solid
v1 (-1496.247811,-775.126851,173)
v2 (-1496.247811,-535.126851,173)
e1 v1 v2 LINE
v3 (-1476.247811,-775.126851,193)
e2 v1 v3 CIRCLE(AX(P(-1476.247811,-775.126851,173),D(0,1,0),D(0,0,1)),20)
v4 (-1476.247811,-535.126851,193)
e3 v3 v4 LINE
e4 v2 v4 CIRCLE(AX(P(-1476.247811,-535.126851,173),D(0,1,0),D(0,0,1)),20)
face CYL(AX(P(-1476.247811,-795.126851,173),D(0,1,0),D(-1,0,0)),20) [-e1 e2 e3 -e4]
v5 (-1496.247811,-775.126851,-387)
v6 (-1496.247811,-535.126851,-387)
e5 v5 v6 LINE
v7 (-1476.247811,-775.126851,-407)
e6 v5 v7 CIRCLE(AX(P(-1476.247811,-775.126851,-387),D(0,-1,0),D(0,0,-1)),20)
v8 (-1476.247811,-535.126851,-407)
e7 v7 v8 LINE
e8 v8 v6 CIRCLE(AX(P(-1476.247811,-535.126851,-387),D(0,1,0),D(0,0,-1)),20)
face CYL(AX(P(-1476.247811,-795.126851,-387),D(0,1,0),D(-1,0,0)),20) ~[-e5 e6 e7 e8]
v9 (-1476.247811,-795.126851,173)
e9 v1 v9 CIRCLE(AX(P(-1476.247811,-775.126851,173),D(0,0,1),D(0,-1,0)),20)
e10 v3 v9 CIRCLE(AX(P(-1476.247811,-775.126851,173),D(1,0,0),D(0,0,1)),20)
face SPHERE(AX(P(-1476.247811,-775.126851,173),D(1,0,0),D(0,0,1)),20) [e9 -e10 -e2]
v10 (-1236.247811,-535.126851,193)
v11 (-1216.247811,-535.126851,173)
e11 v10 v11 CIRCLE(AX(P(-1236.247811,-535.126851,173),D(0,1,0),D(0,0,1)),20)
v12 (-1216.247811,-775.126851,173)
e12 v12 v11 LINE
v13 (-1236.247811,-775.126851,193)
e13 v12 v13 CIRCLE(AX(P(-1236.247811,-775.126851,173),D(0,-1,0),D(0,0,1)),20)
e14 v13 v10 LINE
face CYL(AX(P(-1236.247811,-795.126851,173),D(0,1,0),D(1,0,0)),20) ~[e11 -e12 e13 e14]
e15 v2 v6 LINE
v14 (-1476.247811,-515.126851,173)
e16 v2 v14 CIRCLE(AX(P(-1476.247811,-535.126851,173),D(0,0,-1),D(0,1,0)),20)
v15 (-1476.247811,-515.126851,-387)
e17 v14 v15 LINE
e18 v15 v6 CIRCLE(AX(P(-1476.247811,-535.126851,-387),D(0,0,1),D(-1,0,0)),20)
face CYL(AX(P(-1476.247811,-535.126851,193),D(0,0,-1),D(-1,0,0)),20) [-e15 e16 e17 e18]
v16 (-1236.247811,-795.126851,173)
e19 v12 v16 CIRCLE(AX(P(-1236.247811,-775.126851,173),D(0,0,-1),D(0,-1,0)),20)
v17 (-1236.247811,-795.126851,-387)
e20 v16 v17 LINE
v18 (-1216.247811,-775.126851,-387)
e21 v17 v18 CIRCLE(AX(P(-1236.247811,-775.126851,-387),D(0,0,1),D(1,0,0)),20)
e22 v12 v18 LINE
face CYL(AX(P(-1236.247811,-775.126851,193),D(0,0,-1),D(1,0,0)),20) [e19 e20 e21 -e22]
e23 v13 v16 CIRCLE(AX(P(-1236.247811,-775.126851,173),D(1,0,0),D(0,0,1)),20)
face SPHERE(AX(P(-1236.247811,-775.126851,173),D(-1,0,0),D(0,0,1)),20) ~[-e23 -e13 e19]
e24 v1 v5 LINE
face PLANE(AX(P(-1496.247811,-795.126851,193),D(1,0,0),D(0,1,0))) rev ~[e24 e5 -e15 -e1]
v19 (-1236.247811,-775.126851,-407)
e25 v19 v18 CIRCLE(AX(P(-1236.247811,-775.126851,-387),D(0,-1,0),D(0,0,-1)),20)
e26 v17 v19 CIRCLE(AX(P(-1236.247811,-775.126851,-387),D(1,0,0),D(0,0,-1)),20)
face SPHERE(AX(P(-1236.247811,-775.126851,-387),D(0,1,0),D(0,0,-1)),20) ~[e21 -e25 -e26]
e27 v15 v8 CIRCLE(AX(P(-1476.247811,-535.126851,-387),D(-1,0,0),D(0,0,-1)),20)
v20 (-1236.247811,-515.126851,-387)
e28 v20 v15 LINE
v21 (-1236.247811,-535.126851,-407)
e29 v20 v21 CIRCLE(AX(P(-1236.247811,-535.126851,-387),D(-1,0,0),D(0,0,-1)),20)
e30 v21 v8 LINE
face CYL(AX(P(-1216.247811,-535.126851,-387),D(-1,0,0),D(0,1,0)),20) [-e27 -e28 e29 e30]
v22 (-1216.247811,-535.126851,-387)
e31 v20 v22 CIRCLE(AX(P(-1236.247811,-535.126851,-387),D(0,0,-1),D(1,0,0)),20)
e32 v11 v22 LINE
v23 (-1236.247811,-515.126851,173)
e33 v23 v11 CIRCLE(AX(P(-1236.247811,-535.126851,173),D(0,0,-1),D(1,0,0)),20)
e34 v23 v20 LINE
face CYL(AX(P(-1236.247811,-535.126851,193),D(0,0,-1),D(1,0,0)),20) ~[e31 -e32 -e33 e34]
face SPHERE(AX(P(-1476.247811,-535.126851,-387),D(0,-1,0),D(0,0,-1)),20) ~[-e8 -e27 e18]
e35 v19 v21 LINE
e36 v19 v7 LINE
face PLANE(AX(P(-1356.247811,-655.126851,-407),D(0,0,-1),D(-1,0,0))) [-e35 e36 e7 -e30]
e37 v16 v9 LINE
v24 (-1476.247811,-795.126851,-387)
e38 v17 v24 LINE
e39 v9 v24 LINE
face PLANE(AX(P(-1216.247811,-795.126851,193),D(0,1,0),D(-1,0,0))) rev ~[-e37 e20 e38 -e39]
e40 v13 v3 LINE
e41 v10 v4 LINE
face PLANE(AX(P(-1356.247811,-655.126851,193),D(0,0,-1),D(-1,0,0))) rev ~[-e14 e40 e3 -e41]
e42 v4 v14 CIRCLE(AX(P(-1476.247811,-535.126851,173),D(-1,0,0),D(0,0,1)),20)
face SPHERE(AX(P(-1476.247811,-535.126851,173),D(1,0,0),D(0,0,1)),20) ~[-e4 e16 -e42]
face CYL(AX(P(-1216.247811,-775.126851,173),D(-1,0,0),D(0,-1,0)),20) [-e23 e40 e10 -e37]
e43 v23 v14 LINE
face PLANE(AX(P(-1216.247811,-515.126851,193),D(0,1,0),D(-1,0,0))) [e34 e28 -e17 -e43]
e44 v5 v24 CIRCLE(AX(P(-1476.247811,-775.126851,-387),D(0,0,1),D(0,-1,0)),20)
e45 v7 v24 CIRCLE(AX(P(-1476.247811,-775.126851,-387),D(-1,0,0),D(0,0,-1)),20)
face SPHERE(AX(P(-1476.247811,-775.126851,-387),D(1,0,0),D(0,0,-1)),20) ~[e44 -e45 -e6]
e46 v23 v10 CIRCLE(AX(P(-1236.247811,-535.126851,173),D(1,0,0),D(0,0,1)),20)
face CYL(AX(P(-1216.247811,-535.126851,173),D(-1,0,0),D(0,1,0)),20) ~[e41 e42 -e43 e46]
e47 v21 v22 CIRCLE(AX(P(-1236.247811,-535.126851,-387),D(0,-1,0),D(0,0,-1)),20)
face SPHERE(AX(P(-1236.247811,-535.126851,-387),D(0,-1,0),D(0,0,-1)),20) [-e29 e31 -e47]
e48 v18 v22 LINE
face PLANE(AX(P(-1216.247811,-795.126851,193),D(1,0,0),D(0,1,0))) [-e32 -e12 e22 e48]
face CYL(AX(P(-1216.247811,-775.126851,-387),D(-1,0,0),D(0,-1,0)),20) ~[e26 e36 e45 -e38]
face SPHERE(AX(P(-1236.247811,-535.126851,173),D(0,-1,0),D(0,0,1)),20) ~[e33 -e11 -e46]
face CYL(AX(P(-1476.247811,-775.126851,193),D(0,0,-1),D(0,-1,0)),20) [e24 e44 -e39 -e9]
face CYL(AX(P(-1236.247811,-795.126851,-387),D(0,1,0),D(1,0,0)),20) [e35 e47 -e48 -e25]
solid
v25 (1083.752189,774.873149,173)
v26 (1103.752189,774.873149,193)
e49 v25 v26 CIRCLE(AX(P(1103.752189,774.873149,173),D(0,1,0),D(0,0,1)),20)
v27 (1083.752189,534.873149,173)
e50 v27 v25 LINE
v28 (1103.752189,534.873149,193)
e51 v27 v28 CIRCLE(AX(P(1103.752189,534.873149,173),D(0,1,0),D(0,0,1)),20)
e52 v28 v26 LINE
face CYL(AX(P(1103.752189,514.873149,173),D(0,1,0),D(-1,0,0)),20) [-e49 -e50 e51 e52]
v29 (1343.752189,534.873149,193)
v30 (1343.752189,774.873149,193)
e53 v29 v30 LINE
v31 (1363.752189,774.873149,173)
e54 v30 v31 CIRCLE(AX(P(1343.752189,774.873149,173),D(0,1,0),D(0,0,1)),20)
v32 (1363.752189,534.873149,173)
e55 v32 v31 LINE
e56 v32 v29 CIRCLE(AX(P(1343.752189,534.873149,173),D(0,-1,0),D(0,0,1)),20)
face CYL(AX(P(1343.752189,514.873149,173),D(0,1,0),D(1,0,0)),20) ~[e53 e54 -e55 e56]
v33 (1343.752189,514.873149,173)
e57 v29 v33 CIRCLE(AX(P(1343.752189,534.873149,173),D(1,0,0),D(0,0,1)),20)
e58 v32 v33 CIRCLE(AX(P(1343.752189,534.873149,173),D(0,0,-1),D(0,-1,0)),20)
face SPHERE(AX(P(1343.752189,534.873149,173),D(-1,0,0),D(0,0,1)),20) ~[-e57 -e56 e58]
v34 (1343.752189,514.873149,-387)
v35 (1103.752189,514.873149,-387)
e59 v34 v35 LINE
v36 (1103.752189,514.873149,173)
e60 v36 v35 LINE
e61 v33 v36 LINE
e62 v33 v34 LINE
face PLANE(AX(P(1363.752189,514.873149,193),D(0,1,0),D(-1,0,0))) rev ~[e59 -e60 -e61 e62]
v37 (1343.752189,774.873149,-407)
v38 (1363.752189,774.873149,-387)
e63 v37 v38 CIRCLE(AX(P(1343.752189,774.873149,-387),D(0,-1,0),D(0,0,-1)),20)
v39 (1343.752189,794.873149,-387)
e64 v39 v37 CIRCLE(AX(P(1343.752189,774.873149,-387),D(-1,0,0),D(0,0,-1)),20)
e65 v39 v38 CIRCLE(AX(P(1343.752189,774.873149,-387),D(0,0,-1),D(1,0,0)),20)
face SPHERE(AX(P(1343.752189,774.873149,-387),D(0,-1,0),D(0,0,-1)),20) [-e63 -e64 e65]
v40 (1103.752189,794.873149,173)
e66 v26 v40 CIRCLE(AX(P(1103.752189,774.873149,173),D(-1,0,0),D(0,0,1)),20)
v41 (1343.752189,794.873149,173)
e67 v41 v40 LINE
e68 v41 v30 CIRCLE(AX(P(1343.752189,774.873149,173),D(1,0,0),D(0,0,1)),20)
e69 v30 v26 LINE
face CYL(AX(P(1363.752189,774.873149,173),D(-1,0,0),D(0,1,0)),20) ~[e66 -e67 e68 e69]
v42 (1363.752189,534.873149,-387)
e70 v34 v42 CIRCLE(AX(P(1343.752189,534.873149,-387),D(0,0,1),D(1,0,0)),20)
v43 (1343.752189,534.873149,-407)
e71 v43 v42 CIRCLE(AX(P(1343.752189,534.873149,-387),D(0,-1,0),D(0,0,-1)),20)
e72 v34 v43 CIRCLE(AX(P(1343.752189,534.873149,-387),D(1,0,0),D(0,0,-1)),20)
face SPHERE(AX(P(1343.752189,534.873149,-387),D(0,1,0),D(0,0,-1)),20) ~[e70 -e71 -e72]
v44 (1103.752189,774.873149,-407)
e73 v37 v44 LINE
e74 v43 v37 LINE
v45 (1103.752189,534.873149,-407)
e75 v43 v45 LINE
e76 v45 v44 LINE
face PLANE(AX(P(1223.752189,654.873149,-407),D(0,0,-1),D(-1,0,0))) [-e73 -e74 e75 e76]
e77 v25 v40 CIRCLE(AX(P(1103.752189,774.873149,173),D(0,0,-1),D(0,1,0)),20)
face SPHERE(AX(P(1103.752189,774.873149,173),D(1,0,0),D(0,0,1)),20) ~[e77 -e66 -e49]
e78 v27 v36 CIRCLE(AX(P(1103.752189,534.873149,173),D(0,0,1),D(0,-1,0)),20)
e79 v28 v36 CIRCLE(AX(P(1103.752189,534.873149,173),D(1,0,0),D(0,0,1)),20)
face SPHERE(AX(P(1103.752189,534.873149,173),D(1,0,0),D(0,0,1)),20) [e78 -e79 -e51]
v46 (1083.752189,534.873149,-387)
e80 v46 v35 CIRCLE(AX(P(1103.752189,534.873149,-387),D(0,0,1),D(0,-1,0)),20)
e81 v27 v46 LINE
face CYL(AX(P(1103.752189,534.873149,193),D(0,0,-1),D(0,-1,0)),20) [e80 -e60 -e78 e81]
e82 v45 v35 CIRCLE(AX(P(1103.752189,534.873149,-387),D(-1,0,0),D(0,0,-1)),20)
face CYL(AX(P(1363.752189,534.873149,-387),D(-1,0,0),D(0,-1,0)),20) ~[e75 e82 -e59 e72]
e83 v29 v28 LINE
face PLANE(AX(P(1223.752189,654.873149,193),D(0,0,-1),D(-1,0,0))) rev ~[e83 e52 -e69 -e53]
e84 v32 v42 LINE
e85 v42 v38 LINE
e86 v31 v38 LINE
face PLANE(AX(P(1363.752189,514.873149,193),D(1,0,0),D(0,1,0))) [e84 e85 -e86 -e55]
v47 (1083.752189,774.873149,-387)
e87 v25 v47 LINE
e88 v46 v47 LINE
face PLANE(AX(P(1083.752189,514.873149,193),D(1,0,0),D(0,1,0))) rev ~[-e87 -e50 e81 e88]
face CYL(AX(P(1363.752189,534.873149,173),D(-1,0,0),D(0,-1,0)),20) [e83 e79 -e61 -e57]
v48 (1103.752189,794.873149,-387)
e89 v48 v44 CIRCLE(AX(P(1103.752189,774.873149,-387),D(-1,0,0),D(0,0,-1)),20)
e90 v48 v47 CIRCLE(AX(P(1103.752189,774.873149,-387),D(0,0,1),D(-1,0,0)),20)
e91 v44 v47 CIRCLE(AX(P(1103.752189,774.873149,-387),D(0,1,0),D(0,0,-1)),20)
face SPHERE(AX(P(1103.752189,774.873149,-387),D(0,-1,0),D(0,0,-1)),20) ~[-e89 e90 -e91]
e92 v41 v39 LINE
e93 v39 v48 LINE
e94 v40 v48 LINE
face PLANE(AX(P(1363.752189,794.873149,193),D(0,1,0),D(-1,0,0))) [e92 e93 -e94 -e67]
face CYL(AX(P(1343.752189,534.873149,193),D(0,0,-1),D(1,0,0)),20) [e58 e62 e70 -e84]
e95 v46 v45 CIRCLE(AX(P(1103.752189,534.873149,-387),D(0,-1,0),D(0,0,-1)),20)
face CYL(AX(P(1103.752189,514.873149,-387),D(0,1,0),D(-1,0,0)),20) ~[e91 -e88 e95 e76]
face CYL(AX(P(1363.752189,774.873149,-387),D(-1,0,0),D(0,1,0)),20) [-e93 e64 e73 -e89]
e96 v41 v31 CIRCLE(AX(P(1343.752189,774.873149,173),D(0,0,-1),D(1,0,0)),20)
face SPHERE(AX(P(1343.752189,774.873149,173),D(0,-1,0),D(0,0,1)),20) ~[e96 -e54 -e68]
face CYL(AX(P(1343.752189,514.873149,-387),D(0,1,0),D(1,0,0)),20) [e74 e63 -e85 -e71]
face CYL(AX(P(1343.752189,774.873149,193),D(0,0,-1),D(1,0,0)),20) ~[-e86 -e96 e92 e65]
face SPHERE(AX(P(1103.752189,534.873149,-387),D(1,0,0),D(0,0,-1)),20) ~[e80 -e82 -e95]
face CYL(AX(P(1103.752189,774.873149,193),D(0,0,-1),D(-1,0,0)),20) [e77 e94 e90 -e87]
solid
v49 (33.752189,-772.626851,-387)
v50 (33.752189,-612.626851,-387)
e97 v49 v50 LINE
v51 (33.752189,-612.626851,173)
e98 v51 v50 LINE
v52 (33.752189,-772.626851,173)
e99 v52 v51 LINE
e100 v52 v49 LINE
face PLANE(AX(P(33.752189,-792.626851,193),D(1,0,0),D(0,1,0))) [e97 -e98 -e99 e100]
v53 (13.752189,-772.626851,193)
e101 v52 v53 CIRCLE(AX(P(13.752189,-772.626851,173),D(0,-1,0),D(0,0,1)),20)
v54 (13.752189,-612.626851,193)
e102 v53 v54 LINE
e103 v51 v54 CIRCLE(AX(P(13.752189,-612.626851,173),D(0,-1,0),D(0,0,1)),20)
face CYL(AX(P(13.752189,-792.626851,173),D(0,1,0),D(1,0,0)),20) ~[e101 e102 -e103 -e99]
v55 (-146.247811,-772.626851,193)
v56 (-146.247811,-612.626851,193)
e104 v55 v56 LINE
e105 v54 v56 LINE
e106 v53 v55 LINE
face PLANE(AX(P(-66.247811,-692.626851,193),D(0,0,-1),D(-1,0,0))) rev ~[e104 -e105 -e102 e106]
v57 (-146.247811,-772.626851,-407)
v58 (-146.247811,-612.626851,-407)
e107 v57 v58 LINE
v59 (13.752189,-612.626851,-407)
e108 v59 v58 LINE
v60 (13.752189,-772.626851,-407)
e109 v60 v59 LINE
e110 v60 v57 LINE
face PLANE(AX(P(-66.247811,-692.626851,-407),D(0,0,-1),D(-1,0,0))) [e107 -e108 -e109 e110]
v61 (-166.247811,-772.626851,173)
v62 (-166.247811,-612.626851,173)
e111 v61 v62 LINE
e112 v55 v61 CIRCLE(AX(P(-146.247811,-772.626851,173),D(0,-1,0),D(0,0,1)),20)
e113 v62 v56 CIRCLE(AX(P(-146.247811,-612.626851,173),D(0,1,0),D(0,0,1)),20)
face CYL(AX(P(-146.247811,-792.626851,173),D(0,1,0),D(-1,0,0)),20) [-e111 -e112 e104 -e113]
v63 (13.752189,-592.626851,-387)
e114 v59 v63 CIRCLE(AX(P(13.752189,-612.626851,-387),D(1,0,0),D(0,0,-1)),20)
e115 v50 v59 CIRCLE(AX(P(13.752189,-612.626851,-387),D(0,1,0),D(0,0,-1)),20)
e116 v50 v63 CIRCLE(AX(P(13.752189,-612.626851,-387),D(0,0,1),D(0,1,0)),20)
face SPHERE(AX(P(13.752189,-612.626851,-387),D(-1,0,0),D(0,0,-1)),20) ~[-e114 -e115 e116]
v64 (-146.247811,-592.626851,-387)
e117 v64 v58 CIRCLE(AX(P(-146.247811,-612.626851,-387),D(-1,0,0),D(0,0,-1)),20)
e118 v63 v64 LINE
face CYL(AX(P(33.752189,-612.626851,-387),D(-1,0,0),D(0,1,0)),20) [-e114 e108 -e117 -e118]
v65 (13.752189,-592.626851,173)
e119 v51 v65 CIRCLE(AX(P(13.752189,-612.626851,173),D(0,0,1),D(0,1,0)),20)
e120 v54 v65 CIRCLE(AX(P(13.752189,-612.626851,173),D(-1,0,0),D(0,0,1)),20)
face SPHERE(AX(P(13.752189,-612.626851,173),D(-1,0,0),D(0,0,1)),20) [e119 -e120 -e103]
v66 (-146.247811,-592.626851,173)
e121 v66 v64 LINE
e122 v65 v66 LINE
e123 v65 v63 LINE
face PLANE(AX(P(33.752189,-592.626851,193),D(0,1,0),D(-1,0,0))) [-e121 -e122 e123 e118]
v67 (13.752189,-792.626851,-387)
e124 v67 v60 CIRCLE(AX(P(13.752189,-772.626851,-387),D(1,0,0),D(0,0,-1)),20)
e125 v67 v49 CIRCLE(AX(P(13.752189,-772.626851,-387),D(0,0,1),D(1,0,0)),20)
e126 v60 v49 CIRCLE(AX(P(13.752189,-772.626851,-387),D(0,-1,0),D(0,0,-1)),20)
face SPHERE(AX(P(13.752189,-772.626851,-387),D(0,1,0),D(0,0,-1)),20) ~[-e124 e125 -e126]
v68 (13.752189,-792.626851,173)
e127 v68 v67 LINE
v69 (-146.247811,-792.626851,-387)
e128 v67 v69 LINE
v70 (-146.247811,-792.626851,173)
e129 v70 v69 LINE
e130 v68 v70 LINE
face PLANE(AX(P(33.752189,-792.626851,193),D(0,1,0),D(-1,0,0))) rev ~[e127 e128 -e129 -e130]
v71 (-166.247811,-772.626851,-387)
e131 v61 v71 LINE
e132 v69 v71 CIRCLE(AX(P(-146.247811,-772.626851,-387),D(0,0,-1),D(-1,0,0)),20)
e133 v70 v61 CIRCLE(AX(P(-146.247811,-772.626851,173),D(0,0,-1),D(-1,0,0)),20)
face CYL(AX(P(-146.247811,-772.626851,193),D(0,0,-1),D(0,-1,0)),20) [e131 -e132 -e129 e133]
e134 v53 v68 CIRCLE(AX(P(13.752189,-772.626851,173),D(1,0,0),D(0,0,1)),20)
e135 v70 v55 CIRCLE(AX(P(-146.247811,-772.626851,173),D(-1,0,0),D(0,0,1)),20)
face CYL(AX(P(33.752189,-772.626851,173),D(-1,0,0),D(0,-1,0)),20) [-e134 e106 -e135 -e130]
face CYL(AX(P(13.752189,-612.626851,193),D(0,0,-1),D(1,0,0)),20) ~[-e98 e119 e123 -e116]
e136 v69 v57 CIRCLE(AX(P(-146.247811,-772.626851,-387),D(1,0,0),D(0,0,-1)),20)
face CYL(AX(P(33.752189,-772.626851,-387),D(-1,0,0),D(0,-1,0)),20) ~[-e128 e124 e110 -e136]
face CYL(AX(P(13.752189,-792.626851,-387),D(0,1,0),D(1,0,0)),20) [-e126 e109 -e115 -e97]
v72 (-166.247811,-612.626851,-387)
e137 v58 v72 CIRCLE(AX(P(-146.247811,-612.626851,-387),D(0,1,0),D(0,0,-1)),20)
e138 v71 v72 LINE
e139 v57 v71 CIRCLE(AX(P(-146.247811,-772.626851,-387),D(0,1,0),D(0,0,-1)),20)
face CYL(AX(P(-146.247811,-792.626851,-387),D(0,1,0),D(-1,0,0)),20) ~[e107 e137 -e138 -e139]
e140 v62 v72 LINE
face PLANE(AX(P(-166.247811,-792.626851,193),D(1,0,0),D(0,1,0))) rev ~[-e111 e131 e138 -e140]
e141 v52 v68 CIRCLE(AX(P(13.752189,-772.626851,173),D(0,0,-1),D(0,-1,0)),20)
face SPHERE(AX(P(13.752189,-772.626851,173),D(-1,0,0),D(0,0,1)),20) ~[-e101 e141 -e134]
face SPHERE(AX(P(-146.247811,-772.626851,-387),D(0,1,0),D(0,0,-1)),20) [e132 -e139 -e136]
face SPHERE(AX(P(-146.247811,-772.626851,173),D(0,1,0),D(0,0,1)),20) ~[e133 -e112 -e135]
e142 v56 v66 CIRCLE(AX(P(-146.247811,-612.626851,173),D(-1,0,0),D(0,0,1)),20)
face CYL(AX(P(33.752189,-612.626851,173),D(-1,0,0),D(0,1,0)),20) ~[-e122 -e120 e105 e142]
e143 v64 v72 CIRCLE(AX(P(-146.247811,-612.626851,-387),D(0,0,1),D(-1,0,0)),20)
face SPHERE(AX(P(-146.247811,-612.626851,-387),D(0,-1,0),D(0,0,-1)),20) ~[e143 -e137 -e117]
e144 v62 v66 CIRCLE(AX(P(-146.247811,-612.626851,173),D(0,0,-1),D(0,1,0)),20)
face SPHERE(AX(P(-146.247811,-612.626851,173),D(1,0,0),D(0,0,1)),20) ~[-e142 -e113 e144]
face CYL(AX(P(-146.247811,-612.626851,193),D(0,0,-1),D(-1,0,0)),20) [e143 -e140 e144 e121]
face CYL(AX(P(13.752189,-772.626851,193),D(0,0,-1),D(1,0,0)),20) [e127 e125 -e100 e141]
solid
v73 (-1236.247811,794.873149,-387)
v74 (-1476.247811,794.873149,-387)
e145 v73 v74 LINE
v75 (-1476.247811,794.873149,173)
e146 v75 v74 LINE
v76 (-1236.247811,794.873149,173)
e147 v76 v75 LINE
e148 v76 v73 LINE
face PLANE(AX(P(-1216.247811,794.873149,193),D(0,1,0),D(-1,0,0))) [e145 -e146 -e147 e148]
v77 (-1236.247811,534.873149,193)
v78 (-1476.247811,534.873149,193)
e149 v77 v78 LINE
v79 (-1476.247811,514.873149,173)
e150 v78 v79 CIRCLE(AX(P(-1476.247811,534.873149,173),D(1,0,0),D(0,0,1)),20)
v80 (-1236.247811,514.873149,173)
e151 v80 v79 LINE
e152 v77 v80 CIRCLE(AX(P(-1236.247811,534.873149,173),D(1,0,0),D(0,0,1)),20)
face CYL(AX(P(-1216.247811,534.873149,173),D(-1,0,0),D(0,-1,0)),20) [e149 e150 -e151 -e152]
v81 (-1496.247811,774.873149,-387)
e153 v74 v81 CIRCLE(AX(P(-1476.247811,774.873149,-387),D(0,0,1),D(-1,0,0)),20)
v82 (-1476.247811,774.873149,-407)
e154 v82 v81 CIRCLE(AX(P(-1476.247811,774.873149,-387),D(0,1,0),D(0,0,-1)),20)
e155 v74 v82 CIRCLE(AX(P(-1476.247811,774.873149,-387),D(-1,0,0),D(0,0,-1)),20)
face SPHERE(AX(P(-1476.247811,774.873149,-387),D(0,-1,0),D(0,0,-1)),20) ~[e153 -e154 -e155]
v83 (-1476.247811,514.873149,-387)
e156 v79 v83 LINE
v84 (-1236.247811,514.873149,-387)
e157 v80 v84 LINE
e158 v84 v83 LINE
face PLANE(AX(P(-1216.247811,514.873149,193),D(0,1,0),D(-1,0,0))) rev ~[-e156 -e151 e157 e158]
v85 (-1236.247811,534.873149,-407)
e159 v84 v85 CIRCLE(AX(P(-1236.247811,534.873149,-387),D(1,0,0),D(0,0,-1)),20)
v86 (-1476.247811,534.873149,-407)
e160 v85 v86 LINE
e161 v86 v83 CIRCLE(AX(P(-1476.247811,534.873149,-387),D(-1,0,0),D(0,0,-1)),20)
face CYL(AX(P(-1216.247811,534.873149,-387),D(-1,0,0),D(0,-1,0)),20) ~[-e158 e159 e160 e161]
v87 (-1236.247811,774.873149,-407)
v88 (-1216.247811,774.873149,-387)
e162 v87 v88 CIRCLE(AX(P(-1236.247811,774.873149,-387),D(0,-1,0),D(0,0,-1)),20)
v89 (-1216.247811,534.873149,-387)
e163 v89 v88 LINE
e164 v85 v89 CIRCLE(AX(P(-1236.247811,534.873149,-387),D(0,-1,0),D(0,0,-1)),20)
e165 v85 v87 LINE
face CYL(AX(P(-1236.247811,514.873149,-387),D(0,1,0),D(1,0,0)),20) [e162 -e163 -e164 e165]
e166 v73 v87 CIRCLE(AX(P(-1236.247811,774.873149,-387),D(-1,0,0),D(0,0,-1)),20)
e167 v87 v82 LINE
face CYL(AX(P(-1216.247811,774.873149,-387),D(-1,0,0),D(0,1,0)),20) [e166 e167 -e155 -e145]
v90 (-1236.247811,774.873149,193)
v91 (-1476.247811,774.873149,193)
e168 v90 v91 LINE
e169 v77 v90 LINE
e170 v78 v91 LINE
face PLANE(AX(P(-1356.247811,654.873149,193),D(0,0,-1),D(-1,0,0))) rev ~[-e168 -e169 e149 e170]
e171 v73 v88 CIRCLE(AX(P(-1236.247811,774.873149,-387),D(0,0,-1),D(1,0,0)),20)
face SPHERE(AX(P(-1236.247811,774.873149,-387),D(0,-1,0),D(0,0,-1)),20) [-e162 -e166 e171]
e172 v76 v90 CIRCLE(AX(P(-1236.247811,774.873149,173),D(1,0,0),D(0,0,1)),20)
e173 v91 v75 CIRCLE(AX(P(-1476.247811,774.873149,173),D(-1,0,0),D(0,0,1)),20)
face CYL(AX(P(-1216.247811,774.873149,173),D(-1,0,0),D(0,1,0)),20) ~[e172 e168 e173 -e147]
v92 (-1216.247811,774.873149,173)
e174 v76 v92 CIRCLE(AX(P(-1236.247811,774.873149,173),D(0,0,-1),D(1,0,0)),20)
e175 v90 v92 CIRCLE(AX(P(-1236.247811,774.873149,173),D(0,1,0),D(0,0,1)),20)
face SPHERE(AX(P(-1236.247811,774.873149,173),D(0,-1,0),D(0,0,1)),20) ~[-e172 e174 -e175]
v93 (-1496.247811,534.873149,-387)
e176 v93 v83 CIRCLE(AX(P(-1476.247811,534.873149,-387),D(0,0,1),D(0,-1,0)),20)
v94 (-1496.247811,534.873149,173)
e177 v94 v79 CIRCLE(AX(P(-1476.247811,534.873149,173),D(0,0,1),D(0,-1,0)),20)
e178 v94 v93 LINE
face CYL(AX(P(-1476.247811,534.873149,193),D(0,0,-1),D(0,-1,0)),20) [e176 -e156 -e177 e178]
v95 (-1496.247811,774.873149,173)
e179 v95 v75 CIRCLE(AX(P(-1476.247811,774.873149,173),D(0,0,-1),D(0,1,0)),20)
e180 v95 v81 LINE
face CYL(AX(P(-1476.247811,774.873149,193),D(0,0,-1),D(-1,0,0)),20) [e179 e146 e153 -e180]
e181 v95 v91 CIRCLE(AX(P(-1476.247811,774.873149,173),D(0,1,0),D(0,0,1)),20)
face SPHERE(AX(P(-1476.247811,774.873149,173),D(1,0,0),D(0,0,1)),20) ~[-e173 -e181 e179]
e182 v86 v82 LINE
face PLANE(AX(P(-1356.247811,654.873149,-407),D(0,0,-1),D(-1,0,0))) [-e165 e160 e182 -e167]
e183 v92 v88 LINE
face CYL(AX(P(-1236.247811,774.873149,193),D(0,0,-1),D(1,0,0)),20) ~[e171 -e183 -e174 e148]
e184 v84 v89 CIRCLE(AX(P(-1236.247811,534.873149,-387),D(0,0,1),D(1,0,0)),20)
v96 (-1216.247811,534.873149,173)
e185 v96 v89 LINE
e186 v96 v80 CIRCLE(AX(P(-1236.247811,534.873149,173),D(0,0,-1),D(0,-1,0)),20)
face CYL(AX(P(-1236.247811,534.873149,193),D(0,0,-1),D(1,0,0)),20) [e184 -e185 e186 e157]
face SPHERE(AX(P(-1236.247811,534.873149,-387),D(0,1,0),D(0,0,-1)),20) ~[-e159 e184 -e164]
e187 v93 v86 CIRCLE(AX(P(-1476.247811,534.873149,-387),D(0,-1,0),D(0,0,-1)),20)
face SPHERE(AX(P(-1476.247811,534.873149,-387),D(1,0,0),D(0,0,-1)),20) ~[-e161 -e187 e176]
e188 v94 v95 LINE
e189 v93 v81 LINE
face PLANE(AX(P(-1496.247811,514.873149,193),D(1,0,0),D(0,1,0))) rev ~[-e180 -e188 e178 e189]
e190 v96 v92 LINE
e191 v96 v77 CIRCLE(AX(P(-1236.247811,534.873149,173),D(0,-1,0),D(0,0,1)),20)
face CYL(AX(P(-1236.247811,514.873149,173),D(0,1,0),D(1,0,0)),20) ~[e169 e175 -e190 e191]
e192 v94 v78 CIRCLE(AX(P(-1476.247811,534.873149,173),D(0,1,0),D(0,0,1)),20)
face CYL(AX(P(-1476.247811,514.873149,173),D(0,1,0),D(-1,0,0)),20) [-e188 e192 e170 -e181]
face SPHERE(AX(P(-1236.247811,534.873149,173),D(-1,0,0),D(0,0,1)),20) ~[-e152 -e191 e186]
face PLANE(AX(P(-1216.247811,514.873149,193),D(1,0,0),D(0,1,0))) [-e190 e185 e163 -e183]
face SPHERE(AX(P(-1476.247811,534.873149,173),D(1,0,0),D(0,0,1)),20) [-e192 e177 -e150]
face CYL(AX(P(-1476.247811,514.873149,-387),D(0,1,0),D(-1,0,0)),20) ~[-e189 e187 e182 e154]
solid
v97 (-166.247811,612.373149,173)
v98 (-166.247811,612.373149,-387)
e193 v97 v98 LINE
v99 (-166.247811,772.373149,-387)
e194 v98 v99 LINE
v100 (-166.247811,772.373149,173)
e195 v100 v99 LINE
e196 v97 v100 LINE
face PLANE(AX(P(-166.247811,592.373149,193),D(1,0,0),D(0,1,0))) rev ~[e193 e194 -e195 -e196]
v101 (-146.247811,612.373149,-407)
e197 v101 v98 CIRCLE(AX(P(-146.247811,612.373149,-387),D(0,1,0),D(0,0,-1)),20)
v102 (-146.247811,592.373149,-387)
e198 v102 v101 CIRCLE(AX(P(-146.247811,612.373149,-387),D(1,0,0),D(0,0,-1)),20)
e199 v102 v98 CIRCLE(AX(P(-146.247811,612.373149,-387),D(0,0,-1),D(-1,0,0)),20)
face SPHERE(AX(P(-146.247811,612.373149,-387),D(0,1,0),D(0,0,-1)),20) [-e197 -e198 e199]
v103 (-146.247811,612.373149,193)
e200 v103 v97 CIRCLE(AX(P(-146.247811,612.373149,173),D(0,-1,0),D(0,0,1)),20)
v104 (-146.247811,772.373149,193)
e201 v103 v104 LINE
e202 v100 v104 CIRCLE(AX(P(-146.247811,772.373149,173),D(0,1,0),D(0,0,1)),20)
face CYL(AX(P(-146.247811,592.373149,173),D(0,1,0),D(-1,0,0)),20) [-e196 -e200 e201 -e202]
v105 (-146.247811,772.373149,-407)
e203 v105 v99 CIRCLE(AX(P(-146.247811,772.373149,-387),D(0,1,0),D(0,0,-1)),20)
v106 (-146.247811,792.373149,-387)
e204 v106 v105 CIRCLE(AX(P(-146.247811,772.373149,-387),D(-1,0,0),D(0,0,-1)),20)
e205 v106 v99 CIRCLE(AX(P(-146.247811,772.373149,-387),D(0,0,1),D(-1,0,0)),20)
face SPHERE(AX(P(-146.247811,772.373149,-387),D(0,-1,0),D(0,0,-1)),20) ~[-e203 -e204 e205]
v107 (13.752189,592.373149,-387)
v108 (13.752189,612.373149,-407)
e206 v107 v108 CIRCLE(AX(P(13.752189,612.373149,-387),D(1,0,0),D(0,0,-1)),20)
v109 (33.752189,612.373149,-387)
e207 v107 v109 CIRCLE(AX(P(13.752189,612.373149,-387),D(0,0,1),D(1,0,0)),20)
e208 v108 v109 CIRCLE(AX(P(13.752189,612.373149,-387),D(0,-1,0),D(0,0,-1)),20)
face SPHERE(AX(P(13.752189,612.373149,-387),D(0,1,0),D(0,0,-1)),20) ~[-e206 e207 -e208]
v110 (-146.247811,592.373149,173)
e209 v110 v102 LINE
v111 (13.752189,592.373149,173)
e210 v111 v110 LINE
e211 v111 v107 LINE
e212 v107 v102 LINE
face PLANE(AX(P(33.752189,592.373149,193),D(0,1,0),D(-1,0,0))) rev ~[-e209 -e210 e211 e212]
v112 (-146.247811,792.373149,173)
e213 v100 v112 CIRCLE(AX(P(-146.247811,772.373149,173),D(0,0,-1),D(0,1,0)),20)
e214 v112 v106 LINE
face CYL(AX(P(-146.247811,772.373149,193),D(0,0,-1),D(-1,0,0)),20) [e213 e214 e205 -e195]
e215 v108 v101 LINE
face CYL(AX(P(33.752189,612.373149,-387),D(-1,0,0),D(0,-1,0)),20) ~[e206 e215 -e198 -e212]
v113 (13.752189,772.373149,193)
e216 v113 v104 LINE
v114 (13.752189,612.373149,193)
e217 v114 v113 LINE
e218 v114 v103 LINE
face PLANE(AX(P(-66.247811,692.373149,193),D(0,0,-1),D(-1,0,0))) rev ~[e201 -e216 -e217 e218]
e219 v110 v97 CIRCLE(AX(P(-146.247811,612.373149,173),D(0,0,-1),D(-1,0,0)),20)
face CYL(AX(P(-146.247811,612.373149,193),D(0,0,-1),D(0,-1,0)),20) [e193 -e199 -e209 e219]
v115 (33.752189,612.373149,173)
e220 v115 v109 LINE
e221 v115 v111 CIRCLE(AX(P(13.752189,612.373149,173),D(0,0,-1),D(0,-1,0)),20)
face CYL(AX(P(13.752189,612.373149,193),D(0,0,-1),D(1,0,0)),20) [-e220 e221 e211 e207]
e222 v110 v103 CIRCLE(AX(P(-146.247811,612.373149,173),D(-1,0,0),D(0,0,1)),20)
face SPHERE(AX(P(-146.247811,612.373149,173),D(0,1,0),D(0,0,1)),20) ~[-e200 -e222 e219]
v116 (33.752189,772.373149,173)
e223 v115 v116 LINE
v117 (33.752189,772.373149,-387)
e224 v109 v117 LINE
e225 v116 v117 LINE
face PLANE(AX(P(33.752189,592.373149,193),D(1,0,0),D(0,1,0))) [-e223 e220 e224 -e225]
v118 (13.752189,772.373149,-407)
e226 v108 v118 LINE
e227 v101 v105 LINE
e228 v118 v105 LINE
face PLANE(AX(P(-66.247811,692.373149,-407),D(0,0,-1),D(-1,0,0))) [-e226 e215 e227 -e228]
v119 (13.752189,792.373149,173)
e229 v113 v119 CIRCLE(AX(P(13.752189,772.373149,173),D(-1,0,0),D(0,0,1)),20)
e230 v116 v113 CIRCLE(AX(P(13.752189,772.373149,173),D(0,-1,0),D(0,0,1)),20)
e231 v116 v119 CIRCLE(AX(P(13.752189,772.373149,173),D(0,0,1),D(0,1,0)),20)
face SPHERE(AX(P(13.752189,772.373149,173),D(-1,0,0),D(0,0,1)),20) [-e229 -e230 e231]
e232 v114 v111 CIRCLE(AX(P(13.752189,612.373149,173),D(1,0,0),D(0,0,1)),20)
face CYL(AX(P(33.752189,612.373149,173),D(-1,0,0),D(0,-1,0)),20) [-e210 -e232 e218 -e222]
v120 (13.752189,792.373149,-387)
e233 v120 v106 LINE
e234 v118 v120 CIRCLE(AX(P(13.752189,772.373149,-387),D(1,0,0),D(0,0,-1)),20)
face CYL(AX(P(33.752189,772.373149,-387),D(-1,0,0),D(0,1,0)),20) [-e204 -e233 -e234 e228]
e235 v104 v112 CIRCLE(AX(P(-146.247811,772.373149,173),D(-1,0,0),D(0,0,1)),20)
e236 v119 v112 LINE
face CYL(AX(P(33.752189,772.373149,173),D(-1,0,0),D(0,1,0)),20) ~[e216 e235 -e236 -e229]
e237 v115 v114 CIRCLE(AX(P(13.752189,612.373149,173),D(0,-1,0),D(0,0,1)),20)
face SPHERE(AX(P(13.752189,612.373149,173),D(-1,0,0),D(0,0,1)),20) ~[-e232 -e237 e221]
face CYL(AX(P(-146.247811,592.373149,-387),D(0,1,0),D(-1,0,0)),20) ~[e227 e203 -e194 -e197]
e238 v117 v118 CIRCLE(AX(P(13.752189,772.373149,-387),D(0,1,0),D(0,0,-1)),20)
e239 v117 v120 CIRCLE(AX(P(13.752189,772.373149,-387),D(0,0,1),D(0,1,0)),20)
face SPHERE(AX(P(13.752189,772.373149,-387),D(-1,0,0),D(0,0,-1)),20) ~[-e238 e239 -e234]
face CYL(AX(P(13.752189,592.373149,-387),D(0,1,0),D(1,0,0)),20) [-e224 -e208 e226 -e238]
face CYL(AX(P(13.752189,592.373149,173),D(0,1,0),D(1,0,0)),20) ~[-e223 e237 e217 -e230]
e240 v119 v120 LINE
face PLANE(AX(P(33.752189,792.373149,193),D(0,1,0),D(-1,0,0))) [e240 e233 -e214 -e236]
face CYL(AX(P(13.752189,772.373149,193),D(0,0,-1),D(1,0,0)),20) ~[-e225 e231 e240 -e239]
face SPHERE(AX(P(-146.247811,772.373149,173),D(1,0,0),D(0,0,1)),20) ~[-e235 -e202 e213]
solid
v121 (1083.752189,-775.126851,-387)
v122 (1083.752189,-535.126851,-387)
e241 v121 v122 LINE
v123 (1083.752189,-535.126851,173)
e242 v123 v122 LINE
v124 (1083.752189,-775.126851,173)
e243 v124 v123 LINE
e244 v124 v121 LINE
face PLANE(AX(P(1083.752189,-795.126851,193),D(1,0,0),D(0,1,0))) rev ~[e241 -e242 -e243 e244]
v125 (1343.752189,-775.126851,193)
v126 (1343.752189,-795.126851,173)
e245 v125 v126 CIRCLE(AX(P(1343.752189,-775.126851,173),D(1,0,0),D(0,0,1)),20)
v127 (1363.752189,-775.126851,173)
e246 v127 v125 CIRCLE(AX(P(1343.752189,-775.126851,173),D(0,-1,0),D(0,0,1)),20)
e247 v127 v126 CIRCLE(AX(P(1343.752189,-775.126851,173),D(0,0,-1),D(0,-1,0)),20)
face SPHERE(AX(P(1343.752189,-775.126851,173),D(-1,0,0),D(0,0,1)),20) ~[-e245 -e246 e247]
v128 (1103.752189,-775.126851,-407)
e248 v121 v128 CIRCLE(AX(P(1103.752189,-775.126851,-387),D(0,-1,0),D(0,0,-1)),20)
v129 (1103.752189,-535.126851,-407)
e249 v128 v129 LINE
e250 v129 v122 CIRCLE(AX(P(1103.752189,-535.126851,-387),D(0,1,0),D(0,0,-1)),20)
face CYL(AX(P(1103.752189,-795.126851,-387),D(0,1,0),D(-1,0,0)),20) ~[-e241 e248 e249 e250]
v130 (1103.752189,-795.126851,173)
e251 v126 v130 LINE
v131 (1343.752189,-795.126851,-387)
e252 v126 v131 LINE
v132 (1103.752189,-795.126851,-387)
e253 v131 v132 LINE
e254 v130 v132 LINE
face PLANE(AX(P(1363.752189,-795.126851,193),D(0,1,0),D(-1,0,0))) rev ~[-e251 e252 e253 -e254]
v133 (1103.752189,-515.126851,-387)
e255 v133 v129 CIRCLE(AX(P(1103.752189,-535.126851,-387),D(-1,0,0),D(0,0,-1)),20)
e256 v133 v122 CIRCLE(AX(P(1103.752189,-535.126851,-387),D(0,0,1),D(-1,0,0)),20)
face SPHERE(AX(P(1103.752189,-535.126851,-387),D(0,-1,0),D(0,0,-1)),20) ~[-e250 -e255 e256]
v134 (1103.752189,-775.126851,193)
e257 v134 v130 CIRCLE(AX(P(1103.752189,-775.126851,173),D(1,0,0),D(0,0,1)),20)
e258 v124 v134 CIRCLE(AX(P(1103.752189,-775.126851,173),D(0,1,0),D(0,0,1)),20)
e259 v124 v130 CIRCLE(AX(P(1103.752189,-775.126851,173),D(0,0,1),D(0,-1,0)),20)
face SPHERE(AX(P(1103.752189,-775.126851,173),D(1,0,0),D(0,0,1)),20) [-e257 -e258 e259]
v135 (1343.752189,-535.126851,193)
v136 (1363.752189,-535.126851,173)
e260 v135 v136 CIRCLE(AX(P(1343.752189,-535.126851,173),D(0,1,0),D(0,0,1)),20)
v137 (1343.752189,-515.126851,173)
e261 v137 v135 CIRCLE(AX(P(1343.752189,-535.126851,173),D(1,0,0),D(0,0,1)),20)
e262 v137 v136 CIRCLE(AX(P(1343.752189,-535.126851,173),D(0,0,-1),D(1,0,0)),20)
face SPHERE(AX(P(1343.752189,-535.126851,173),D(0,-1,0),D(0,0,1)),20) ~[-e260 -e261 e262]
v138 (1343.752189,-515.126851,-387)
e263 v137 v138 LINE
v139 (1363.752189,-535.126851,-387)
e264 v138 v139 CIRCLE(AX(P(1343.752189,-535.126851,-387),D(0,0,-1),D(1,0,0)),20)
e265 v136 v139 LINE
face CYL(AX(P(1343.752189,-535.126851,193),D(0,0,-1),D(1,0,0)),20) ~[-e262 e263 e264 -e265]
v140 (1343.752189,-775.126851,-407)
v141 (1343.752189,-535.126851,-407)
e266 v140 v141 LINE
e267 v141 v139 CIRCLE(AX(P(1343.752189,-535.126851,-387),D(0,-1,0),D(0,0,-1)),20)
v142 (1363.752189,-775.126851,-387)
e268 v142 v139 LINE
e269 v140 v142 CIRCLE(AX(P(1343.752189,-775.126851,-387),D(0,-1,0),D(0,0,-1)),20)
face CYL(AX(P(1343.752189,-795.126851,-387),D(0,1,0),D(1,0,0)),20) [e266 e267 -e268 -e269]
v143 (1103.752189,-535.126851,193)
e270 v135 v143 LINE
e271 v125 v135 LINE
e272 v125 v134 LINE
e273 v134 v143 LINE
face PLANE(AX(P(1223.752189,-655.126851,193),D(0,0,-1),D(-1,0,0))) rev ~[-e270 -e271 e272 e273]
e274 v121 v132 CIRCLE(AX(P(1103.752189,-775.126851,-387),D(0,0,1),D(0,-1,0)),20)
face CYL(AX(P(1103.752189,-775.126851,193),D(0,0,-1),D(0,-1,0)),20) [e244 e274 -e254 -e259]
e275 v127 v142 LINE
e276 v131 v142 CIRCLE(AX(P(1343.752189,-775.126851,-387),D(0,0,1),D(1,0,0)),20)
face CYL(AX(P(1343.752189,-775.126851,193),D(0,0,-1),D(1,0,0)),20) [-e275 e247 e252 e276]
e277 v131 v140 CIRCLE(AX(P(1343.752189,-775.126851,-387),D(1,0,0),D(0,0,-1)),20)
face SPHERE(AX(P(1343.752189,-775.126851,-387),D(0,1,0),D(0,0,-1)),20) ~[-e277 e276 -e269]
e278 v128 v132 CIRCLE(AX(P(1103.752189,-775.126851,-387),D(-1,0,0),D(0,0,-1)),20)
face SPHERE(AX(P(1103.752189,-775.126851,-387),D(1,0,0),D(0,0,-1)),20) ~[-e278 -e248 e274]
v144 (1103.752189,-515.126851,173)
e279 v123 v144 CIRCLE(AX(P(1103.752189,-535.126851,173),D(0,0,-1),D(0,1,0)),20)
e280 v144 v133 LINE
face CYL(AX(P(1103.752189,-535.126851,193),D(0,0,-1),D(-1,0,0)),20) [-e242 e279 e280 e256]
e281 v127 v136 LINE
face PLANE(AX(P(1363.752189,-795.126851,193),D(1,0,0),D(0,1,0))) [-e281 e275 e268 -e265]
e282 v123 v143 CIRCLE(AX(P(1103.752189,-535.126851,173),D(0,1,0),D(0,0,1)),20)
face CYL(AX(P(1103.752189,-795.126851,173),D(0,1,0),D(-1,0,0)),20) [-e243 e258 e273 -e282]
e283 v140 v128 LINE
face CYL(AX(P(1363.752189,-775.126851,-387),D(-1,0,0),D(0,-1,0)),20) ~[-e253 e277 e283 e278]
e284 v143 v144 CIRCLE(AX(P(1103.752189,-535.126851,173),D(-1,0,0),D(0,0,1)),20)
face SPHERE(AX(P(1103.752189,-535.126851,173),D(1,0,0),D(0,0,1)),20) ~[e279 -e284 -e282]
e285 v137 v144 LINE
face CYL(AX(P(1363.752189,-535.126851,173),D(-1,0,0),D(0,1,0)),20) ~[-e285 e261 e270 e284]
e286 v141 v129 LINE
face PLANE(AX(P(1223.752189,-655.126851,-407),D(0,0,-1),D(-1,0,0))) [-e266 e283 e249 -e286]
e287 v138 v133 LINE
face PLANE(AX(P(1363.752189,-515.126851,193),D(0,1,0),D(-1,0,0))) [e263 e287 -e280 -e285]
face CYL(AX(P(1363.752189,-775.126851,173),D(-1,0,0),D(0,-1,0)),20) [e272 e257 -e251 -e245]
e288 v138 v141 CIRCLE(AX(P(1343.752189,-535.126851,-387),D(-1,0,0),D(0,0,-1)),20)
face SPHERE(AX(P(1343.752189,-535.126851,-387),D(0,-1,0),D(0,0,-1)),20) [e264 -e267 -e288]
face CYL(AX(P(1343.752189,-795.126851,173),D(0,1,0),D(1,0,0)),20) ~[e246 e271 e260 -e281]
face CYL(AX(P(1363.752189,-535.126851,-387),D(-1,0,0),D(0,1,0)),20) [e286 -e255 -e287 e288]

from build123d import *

# Parameters (mm, degrees)
SZKIC1_W                      = 280
SZKIC1_H                      = 280
DODANIE_WYCI_GNI_CIE1_DEPTH   = 600
SZKIC1_W_2                    = 200
SZKIC1_H_2                    = 200
DODANIE_WYCI_GNI_CIE1_2_DEPTH = 600
DODANIE_WYCI_GNI_CIE1_3_DEPTH = 600
DODANIE_WYCI_GNI_CIE1_4_DEPTH = 600
DODANIE_WYCI_GNI_CIE1_5_DEPTH = 600
DODANIE_WYCI_GNI_CIE1_6_DEPTH = 600
ZAOKR_GLENIE1_R               = 20
ZAOKR_GLENIE2_R               = 20
ZAOKR_GLENIE3_R               = 20
ZAOKR_GLENIE4_R               = 20
ZAOKR_GLENIE5_R               = 20
ZAOKR_GLENIE6_R               = 20


with BuildPart() as part:
    # Szkic1 → Dodanie-wyciągnięcie1 (new body)
    with BuildSketch(Plane(origin=(0, 0, 193), x_dir=(-1, 0, 0), z_dir=(0, 0, -1))):
        with Locations((-1223.752188602, 654.873149236)):
            Rectangle(SZKIC1_W, SZKIC1_H)
    extrude(amount=DODANIE_WYCI_GNI_CIE1_DEPTH)

    # Zaokrąglenie1
    zaokr_glenie1_edges = [part.edges().sort_by_distance(p)[0] for p in [
        (1363.752188602, 654.873149236, -407),
        (1223.752188602, 514.873149236, -407),
        (1083.752188602, 654.873149236, -407),
        (1223.752188602, 514.873149236, 193),
        (1363.752188602, 654.873149236, 193),
        (1223.752188602, 794.873149236, 193),
        (1083.752188602, 654.873149236, 193),
        (1223.752188602, 794.873149236, -407),
        (1083.752188602, 514.873149236, -107),
        (1363.752188602, 514.873149236, -107),
        (1363.752188602, 794.873149236, -107),
        (1083.752188602, 794.873149236, -107),
    ]]
    fillet(zaokr_glenie1_edges, radius=ZAOKR_GLENIE1_R)


with BuildPart() as body_2:
    # Szkic1 → Dodanie-wyci_gni_cie1 2 (new body)
    with BuildSketch(Plane(origin=(0, 0, 193), x_dir=(-1, 0, 0), z_dir=(0, 0, -1))):
        with Locations((66.247811398, 692.373149236)):
            Rectangle(SZKIC1_W_2, SZKIC1_H_2)
    extrude(amount=DODANIE_WYCI_GNI_CIE1_2_DEPTH)

    # Zaokrąglenie5
    zaokr_glenie5_edges = [body_2.edges().sort_by_distance(p)[0] for p in [
        (-166.247811398, 692.373149236, -407),
        (-66.247811398, 792.373149236, -407),
        (33.752188602, 692.373149236, -407),
        (-66.247811398, 792.373149236, 193),
        (-166.247811398, 692.373149236, 193),
        (-66.247811398, 592.373149236, 193),
        (33.752188602, 692.373149236, 193),
        (-66.247811398, 592.373149236, -407),
        (33.752188602, 792.373149236, -107),
        (-166.247811398, 792.373149236, -107),
        (-166.247811398, 592.373149236, -107),
        (33.752188602, 592.373149236, -107),
    ]]
    fillet(zaokr_glenie5_edges, radius=ZAOKR_GLENIE5_R)


with BuildPart() as body_3:
    # Szkic1 → Dodanie-wyci_gni_cie1 3 (new body)
    with BuildSketch(Plane(origin=(0, 0, 193), x_dir=(-1, 0, 0), z_dir=(0, 0, -1))):
        with Locations((1356.247811398, 654.873149236)):
            Rectangle(SZKIC1_W, SZKIC1_H)
    extrude(amount=DODANIE_WYCI_GNI_CIE1_3_DEPTH)

    # Zaokrąglenie6
    zaokr_glenie6_edges = [body_3.edges().sort_by_distance(p)[0] for p in [
        (-1216.247811398, 654.873149236, -407),
        (-1356.247811398, 514.873149236, -407),
        (-1496.247811398, 654.873149236, -407),
        (-1356.247811398, 514.873149236, 193),
        (-1216.247811398, 654.873149236, 193),
        (-1356.247811398, 794.873149236, 193),
        (-1496.247811398, 654.873149236, 193),
        (-1356.247811398, 794.873149236, -407),
        (-1496.247811398, 514.873149236, -107),
        (-1216.247811398, 514.873149236, -107),
        (-1216.247811398, 794.873149236, -107),
        (-1496.247811398, 794.873149236, -107),
    ]]
    fillet(zaokr_glenie6_edges, radius=ZAOKR_GLENIE6_R)


with BuildPart() as body_4:
    # Szkic1 → Dodanie-wyci_gni_cie1 4 (new body)
    with BuildSketch(Plane(origin=(0, 0, 193), x_dir=(-1, 0, 0), z_dir=(0, 0, -1))):
        with Locations((1356.247811398, -655.126850764)):
            Rectangle(SZKIC1_W, SZKIC1_H)
    extrude(amount=DODANIE_WYCI_GNI_CIE1_4_DEPTH)

    # Zaokrąglenie4
    zaokr_glenie4_edges = [body_4.edges().sort_by_distance(p)[0] for p in [
        (-1216.247811398, -655.126850764, -407),
        (-1356.247811398, -795.126850764, -407),
        (-1496.247811398, -655.126850764, -407),
        (-1356.247811398, -795.126850764, 193),
        (-1216.247811398, -655.126850764, 193),
        (-1356.247811398, -515.126850764, 193),
        (-1496.247811398, -655.126850764, 193),
        (-1356.247811398, -515.126850764, -407),
        (-1496.247811398, -795.126850764, -107),
        (-1216.247811398, -795.126850764, -107),
        (-1216.247811398, -515.126850764, -107),
        (-1496.247811398, -515.126850764, -107),
    ]]
    fillet(zaokr_glenie4_edges, radius=ZAOKR_GLENIE4_R)


with BuildPart() as body_5:
    # Szkic1 → Dodanie-wyci_gni_cie1 5 (new body)
    with BuildSketch(Plane(origin=(0, 0, 193), x_dir=(-1, 0, 0), z_dir=(0, 0, -1))):
        with Locations((66.247811398, -692.626850764)):
            Rectangle(SZKIC1_W_2, SZKIC1_H_2)
    extrude(amount=DODANIE_WYCI_GNI_CIE1_5_DEPTH)

    # Zaokrąglenie3
    zaokr_glenie3_edges = [body_5.edges().sort_by_distance(p)[0] for p in [
        (-166.247811398, -692.626850764, -407),
        (-66.247811398, -592.626850764, -407),
        (33.752188602, -692.626850764, -407),
        (-66.247811398, -592.626850764, 193),
        (-166.247811398, -692.626850764, 193),
        (-66.247811398, -792.626850764, 193),
        (33.752188602, -692.626850764, 193),
        (-66.247811398, -792.626850764, -407),
        (33.752188602, -592.626850764, -107),
        (-166.247811398, -592.626850764, -107),
        (-166.247811398, -792.626850764, -107),
        (33.752188602, -792.626850764, -107),
    ]]
    fillet(zaokr_glenie3_edges, radius=ZAOKR_GLENIE3_R)


with BuildPart() as body_6:
    # Szkic1 → Dodanie-wyci_gni_cie1 6 (new body)
    with BuildSketch(Plane(origin=(0, 0, 193), x_dir=(-1, 0, 0), z_dir=(0, 0, -1))):
        with Locations((-1223.752188602, -655.126850764)):
            Rectangle(SZKIC1_W, SZKIC1_H)
    extrude(amount=DODANIE_WYCI_GNI_CIE1_6_DEPTH)

    # Zaokrąglenie2
    zaokr_glenie2_edges = [body_6.edges().sort_by_distance(p)[0] for p in [
        (1363.752188602, -655.126850764, -407),
        (1223.752188602, -795.126850764, -407),
        (1083.752188602, -655.126850764, -407),
        (1223.752188602, -795.126850764, 193),
        (1363.752188602, -655.126850764, 193),
        (1223.752188602, -515.126850764, 193),
        (1083.752188602, -655.126850764, 193),
        (1223.752188602, -515.126850764, -407),
        (1083.752188602, -795.126850764, -107),
        (1363.752188602, -795.126850764, -107),
        (1363.752188602, -515.126850764, -107),
        (1083.752188602, -515.126850764, -107),
    ]]
    fillet(zaokr_glenie2_edges, radius=ZAOKR_GLENIE2_R)


solid = Compound([part.part, body_2.part, body_3.part, body_4.part, body_5.part, body_6.part])
